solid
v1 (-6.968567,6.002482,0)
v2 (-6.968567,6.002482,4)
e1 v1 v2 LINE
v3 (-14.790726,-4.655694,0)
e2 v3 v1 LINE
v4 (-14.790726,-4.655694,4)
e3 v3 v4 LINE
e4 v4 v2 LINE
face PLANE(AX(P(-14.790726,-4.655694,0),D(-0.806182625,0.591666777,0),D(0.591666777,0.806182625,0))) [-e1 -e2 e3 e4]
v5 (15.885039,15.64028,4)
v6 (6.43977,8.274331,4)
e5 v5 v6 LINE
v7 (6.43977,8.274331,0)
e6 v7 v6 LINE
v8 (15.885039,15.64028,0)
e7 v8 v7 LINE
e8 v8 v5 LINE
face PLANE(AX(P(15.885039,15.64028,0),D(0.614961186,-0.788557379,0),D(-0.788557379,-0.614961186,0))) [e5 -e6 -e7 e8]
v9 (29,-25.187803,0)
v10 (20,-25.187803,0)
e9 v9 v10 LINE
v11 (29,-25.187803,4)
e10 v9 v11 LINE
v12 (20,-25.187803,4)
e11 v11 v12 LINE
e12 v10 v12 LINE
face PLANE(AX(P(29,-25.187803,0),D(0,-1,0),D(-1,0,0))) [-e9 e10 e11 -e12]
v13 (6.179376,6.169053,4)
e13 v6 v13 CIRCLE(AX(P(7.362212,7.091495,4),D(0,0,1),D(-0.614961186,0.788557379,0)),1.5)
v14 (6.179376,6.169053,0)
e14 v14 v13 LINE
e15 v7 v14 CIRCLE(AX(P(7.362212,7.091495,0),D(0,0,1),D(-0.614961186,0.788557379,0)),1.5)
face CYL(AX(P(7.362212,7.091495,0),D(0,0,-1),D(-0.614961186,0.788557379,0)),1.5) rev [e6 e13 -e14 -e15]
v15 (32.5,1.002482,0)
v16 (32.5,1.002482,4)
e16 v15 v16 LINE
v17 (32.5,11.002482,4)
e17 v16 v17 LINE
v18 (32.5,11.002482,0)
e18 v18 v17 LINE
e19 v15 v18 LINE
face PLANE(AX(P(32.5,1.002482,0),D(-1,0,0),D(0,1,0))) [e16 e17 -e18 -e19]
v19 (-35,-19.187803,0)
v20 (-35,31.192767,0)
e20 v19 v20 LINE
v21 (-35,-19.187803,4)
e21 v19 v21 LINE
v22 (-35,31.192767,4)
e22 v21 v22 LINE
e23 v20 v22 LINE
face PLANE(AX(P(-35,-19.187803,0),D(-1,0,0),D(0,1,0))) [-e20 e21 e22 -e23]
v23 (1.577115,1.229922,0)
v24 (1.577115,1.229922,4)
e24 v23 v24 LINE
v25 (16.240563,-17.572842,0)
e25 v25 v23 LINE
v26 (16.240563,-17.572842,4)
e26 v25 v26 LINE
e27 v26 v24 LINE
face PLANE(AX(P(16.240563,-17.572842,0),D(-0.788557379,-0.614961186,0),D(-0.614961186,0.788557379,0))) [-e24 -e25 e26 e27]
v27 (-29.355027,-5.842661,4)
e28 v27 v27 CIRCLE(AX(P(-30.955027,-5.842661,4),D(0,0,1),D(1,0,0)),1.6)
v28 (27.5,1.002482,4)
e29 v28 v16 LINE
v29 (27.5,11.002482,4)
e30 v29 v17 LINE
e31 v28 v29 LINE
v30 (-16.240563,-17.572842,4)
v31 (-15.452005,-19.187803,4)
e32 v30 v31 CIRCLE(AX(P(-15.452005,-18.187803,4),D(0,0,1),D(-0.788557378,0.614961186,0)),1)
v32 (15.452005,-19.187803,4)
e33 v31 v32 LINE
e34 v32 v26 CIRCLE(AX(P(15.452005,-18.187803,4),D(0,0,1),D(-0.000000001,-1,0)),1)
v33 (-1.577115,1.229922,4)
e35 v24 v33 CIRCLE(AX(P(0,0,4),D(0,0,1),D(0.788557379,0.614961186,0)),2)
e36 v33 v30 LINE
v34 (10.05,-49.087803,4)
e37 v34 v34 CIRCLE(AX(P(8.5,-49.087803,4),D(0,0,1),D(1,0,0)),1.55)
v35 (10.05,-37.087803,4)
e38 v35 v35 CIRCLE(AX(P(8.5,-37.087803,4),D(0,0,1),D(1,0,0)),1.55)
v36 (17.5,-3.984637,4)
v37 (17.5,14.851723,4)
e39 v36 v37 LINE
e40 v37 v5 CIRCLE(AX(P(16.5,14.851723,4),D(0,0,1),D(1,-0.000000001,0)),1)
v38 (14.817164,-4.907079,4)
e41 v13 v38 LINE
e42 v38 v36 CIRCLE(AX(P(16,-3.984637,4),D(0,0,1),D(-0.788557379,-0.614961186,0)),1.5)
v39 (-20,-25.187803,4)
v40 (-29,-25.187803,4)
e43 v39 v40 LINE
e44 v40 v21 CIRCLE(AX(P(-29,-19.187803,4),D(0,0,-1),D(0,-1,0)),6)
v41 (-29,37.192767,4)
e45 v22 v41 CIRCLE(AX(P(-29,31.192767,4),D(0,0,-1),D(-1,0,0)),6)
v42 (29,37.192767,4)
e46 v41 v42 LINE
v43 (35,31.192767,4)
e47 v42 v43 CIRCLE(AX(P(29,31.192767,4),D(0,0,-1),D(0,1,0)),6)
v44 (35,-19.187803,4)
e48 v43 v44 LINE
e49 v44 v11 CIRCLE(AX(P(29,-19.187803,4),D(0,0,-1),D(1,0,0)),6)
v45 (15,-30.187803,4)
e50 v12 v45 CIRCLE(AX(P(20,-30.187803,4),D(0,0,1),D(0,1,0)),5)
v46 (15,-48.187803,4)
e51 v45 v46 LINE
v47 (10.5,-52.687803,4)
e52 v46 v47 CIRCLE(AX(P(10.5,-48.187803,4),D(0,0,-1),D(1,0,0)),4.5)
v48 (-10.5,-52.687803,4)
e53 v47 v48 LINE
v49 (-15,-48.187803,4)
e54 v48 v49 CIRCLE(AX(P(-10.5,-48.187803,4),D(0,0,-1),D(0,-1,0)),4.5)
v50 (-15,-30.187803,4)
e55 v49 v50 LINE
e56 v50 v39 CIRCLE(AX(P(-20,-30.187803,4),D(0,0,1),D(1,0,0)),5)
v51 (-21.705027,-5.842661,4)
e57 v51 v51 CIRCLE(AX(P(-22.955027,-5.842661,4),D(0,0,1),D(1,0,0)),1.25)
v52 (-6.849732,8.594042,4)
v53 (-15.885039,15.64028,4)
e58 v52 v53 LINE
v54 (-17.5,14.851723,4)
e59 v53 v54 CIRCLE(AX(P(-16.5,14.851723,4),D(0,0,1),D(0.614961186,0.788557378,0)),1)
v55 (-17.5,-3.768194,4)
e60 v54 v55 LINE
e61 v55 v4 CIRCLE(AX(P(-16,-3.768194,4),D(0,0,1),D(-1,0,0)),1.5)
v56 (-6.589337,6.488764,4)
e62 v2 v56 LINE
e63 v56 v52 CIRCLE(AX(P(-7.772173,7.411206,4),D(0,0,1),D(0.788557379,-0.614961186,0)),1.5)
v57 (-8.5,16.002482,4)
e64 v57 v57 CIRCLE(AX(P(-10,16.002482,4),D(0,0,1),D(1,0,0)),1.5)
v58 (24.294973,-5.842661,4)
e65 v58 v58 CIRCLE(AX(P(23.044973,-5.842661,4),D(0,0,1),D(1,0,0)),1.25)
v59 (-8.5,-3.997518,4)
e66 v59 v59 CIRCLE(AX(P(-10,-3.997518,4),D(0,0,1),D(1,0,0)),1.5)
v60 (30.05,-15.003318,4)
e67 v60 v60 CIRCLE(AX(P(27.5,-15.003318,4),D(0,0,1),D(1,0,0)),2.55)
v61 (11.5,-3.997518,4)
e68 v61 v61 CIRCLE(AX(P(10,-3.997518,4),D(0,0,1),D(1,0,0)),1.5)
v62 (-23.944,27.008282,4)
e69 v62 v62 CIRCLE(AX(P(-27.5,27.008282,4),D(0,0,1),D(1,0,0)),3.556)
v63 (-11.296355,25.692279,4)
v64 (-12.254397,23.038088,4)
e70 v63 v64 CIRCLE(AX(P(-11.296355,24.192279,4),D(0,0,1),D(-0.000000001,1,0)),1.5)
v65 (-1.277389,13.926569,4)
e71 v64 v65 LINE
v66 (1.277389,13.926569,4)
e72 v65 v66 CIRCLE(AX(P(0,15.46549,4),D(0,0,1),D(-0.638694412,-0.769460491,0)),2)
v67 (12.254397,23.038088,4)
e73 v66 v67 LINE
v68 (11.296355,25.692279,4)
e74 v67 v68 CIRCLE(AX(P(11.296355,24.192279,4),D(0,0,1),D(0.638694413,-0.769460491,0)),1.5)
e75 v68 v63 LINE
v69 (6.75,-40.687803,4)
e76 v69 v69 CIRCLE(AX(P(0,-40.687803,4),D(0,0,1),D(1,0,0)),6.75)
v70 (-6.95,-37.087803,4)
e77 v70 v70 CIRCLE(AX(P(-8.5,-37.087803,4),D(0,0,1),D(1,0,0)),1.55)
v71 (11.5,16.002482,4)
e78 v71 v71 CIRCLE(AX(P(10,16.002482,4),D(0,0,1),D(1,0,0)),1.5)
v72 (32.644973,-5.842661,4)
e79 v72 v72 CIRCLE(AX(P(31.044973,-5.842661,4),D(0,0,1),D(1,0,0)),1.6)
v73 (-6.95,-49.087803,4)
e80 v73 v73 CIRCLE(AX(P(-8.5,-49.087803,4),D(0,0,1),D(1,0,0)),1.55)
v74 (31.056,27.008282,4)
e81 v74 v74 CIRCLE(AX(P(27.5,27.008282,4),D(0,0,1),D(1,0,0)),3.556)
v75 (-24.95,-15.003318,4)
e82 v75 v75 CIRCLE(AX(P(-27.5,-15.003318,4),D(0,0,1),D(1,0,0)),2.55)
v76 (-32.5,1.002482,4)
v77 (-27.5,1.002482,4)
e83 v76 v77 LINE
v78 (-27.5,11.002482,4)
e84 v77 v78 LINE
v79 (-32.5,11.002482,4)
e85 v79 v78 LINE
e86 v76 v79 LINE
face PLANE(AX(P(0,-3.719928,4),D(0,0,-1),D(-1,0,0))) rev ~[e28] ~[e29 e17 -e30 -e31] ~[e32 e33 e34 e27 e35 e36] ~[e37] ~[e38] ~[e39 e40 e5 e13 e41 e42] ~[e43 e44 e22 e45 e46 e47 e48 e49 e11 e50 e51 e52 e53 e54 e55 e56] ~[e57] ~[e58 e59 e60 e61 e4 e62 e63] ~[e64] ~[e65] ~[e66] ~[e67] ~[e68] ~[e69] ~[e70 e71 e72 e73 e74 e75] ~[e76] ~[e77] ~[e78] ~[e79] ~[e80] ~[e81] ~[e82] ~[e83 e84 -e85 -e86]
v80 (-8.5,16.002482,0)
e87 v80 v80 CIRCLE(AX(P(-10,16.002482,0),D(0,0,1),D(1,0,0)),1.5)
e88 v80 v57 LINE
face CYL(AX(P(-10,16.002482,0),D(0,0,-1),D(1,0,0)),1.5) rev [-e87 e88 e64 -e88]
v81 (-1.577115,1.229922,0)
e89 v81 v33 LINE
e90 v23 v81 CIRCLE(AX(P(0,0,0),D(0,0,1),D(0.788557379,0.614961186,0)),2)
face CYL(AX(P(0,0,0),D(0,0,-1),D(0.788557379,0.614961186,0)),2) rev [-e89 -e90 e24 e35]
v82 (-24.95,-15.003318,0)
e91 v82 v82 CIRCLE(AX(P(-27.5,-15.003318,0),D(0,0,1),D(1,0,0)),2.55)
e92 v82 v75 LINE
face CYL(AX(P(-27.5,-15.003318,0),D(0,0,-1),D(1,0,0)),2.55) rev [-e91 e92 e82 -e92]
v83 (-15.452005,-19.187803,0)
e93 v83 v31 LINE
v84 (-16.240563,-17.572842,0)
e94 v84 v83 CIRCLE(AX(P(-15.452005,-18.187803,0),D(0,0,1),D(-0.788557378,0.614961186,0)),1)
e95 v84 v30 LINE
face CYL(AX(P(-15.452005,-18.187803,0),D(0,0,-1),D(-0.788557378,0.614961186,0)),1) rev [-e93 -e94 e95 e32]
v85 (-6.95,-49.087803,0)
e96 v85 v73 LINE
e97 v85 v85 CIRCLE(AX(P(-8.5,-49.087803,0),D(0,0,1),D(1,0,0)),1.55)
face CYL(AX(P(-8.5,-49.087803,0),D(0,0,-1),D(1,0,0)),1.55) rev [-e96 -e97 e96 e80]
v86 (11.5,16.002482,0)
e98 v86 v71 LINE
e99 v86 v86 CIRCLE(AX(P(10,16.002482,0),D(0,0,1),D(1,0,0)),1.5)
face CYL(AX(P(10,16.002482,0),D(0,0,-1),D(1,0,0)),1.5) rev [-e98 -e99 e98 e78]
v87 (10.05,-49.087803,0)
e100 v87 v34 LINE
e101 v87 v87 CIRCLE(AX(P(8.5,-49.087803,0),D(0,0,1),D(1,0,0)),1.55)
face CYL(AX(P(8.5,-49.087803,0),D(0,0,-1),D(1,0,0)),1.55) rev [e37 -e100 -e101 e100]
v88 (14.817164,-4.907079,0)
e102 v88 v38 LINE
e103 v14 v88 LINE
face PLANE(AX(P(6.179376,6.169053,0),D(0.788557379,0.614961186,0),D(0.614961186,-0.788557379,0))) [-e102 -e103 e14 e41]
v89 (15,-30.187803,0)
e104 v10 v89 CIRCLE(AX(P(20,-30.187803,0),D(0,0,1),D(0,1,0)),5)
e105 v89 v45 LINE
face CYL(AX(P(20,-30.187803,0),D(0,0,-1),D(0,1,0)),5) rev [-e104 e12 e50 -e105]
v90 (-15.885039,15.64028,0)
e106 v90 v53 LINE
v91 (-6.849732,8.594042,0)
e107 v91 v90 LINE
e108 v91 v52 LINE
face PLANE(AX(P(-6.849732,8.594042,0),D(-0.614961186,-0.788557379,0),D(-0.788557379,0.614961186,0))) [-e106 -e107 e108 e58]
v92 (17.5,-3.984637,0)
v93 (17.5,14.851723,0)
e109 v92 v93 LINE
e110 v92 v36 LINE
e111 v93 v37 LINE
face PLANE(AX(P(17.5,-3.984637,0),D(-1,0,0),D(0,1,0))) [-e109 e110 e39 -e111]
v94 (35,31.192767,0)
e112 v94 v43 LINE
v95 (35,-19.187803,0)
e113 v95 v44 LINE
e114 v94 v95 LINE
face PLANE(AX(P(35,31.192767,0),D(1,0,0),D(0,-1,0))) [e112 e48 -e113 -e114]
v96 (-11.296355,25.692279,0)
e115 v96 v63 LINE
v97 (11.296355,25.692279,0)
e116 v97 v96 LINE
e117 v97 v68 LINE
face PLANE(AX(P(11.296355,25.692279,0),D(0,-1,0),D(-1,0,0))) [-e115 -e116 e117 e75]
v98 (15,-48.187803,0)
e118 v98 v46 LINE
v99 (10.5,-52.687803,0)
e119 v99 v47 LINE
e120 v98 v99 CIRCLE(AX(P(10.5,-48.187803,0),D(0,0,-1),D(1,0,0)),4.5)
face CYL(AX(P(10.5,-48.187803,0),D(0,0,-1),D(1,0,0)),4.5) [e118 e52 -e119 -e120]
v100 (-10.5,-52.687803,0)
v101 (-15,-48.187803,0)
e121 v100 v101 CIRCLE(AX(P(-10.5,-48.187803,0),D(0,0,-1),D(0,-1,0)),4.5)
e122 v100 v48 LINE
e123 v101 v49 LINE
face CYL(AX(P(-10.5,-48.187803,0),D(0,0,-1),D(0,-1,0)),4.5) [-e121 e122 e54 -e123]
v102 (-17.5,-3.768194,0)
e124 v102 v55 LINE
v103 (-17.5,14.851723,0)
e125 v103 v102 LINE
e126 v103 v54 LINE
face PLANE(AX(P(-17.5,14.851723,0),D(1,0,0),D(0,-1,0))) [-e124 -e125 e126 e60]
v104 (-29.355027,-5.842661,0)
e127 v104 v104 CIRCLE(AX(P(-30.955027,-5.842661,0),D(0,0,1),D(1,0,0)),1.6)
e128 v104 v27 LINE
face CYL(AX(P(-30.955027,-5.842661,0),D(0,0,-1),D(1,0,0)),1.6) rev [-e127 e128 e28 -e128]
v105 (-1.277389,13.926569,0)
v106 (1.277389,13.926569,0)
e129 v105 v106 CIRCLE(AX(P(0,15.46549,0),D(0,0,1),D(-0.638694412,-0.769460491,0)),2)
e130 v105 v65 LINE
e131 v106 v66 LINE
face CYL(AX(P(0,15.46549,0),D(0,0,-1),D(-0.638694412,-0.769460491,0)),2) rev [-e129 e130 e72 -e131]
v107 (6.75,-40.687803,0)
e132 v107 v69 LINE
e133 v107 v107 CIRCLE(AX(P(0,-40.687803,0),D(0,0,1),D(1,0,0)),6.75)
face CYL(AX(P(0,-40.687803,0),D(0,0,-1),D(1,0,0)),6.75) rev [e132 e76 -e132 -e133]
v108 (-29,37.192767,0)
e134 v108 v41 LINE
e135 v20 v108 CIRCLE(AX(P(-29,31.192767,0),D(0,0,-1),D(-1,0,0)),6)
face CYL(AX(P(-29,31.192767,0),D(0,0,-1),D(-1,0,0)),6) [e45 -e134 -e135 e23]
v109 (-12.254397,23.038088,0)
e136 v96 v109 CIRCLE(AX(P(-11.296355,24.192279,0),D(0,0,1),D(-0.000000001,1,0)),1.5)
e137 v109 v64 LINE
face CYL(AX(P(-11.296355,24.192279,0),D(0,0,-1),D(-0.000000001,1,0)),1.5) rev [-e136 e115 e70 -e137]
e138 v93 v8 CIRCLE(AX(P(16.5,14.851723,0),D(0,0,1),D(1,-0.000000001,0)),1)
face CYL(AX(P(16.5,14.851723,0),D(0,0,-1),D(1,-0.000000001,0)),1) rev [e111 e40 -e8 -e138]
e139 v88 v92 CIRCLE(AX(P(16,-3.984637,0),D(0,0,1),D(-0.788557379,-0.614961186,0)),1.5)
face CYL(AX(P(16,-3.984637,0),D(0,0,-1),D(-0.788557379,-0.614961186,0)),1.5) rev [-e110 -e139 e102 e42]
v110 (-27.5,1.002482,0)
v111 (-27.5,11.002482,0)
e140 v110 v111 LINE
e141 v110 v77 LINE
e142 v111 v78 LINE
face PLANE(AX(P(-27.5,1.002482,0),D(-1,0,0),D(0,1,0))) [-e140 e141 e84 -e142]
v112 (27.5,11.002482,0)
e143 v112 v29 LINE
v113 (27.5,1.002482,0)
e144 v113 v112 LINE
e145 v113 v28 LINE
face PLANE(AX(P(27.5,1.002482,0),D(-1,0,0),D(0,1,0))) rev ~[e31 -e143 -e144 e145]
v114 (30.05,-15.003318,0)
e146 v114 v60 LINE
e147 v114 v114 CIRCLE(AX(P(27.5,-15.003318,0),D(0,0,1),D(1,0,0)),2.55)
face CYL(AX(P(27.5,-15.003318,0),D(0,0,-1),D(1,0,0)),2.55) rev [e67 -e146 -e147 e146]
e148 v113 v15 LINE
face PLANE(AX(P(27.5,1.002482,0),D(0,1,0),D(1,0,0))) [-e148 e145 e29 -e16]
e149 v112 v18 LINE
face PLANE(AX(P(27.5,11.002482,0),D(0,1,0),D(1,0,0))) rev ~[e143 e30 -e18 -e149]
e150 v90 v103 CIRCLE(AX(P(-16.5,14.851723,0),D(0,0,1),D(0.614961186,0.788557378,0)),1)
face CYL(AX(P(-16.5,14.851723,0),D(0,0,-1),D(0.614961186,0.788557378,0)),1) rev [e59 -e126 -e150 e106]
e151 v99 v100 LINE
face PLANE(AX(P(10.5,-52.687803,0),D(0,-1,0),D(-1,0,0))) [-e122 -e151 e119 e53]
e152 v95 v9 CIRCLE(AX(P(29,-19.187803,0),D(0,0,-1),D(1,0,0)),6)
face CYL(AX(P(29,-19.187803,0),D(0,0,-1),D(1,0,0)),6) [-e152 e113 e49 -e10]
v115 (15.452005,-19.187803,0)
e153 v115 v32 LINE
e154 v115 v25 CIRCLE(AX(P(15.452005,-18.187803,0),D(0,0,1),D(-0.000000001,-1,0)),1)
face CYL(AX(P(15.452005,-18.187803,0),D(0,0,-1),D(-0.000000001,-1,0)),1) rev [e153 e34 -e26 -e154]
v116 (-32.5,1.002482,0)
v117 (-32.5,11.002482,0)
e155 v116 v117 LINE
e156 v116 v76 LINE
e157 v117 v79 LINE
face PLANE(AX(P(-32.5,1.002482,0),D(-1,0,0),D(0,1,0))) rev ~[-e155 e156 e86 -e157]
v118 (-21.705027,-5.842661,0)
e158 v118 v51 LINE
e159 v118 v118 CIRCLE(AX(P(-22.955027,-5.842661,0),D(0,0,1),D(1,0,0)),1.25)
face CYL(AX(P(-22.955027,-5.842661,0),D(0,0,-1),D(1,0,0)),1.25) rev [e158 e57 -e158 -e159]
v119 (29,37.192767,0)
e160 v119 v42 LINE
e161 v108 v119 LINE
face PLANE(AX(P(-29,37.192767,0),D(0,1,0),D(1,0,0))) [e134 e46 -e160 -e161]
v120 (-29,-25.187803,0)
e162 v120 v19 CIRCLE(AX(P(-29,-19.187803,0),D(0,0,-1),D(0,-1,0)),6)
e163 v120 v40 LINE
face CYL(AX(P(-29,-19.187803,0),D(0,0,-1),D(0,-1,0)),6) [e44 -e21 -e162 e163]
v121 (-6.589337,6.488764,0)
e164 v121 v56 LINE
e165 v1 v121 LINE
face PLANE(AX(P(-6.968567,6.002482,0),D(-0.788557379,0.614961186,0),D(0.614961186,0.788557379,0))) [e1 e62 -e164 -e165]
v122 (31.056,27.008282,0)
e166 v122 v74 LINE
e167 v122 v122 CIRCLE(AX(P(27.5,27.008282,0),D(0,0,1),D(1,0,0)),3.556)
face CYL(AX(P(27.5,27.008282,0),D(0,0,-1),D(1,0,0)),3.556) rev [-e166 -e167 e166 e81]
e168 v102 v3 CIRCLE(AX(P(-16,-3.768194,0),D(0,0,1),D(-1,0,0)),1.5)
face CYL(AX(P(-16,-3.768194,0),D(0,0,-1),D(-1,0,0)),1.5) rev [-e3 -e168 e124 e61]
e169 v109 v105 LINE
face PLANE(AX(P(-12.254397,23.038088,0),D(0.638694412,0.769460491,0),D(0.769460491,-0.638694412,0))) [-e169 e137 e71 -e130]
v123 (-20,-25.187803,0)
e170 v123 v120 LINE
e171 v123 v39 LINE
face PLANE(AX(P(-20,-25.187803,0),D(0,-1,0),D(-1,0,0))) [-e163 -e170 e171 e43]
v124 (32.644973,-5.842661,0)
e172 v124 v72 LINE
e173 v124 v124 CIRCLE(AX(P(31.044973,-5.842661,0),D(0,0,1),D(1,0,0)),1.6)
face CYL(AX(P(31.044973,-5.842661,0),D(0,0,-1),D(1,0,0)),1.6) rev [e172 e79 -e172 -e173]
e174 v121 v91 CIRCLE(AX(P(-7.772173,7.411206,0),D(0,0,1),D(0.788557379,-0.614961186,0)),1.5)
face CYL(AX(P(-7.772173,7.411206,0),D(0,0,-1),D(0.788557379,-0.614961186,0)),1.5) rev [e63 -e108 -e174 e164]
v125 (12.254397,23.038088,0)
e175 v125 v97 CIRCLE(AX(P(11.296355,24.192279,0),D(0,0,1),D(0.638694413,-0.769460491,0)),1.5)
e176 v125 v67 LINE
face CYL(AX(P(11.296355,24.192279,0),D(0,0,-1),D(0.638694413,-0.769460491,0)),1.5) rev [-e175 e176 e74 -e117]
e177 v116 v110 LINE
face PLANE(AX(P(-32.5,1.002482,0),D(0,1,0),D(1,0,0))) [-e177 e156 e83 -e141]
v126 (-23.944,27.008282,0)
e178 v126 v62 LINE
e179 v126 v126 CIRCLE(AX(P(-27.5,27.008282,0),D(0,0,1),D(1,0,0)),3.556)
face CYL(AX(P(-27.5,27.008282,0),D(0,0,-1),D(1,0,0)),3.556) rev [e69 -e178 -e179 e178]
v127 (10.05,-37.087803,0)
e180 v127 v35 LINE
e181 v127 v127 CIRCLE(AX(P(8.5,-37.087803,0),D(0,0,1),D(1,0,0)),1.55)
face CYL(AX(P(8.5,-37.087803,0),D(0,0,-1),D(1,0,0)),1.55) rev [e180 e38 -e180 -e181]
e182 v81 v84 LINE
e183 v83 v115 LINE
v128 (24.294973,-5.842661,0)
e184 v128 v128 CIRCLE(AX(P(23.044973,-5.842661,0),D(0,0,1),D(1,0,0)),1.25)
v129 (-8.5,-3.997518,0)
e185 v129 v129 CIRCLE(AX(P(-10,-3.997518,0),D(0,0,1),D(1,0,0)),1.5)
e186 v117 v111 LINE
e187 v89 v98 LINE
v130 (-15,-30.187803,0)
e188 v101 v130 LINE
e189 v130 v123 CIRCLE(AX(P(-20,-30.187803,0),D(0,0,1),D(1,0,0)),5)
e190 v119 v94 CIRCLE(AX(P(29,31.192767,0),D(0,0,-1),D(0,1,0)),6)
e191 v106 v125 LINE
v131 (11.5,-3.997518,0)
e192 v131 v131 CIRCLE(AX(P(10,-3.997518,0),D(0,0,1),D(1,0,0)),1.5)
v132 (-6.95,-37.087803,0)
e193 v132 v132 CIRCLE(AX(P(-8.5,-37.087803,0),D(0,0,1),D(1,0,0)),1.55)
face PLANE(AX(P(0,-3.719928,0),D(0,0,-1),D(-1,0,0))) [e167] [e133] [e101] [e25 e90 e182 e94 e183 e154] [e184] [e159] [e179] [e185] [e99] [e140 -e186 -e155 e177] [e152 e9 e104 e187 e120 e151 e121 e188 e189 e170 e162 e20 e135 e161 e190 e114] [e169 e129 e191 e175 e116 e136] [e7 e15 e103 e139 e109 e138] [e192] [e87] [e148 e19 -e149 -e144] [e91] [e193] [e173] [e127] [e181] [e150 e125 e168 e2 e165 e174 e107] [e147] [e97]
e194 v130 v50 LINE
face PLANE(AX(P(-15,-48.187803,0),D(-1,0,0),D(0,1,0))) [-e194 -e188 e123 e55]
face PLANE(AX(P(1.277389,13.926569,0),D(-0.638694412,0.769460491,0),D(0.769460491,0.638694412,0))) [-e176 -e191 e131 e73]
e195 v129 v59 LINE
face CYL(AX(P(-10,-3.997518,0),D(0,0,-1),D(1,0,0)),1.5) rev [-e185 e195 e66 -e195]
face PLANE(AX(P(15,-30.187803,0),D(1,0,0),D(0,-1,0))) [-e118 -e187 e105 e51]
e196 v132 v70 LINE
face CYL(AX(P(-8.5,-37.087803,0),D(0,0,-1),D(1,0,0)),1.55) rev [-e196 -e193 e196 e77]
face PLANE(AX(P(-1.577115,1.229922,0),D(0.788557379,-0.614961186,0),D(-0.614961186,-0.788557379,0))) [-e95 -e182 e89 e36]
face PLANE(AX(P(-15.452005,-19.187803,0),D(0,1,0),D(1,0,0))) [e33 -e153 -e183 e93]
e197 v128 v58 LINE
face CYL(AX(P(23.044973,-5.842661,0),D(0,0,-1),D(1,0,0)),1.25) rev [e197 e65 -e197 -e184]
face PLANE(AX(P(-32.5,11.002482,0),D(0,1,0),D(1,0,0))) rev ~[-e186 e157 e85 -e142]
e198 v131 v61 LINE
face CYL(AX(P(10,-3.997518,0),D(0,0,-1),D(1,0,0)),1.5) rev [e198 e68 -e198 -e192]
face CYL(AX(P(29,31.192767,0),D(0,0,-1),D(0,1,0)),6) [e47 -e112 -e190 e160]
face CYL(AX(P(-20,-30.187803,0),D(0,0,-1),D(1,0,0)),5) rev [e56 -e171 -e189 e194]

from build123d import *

# Parameters (mm, degrees)
MODEL_R         = 1.25
MODEL_R_2       = 1.6
MODEL_R_3       = 2.55
MODEL_R_4       = 3.556
MODEL_R_5       = 1.5
MODEL_R_6       = 1.55
MODEL_R_7       = 6.75
MODEL_W         = 5
MODEL_H         = 10
EXTRUDE_1_DEPTH = 4


with BuildPart() as part:
    # Model → Бобышка-Вытянуть1 (new body)
    with BuildSketch(Plane.XY):
        with BuildLine():
            Line((-29, 37.192766725), (29, 37.192766725))
            ThreePointArc((29, 37.192766725), (33.242640687, 35.435407412), (35, 31.192766725))
            Line((35, 31.192766725), (35, -19.187803059))
            ThreePointArc((35, -19.187803059), (33.242640687, -23.430443746), (29, -25.187803059))
            Line((29, -25.187803059), (20, -25.187803059))
            ThreePointArc((20, -25.187803059), (16.464466094, -26.652269153), (15, -30.187803059))
            Line((15, -30.187803059), (15, -48.187803059))
            ThreePointArc((15, -48.187803059), (13.681980515, -51.369783574), (10.5, -52.687803059))
            Line((10.5, -52.687803059), (-10.5, -52.687803059))
            ThreePointArc((-10.5, -52.687803059), (-13.681980515, -51.369783574), (-15, -48.187803059))
            Line((-15, -48.187803059), (-15, -30.187803059))
            ThreePointArc((-15, -30.187803059), (-16.464466094, -26.652269153), (-20, -25.187803059))
            Line((-20, -25.187803059), (-29, -25.187803059))
            ThreePointArc((-29, -25.187803059), (-33.242640687, -23.430443746), (-35, -19.187803059))
            Line((-35, -19.187803059), (-35, 31.192766725))
            ThreePointArc((-35, 31.192766725), (-33.242640687, 35.435407412), (-29, 37.192766725))
        make_face()
        with Locations((-22.95502674, -5.842660613)):
            Circle(MODEL_R, mode=Mode.SUBTRACT)
        with Locations((23.04497326, -5.842660613)):
            Circle(MODEL_R, mode=Mode.SUBTRACT)
        with Locations((-30.95502674, -5.842660613)):
            Circle(MODEL_R_2, mode=Mode.SUBTRACT)
        with Locations((31.04497326, -5.842660613)):
            Circle(MODEL_R_2, mode=Mode.SUBTRACT)
        with Locations((-27.5, -15.003318167)):
            Circle(MODEL_R_3, mode=Mode.SUBTRACT)
        with Locations((27.5, 27.008281833)):
            Circle(MODEL_R_4, mode=Mode.SUBTRACT)
        with Locations((-27.5, 27.008281833)):
            Circle(MODEL_R_4, mode=Mode.SUBTRACT)
        with Locations((27.5, -15.003318167)):
            Circle(MODEL_R_3, mode=Mode.SUBTRACT)
        with Locations((-10, -3.997518167)):
            Circle(MODEL_R_5, mode=Mode.SUBTRACT)
        with Locations((10, -3.997518167)):
            Circle(MODEL_R_5, mode=Mode.SUBTRACT)
        with Locations((-10, 16.002481833)):
            Circle(MODEL_R_5, mode=Mode.SUBTRACT)
        with Locations((10, 16.002481833)):
            Circle(MODEL_R_5, mode=Mode.SUBTRACT)
        with Locations((-8.5, -37.087803059)):
            Circle(MODEL_R_6, mode=Mode.SUBTRACT)
        with Locations((8.5, -37.087803059)):
            Circle(MODEL_R_6, mode=Mode.SUBTRACT)
        with Locations((-8.5, -49.087803059)):
            Circle(MODEL_R_6, mode=Mode.SUBTRACT)
        with Locations((0, -40.687803059)):
            Circle(MODEL_R_7, mode=Mode.SUBTRACT)
        with Locations((8.5, -49.087803059)):
            Circle(MODEL_R_6, mode=Mode.SUBTRACT)
        with Locations((-30, 6.002481833)):
            Rectangle(MODEL_W, MODEL_H, mode=Mode.SUBTRACT)
        with Locations((30, 6.002481833)):
            Rectangle(MODEL_W, MODEL_H, mode=Mode.SUBTRACT)
        with BuildLine():
            Line((-15.452005485, -19.187803059), (15.452005485, -19.187803059))
            ThreePointArc((15.452005485, -19.187803059), (16.350604725, -18.626573394), (16.240562864, -17.572841873))
            Line((16.240562864, -17.572841873), (1.577114757, 1.229922372))
            ThreePointArc((1.577114757, 1.229922372), (0, 2), (-1.577114757, 1.229922372))
            Line((-1.577114757, 1.229922372), (-16.240562864, -17.572841873))
            ThreePointArc((-16.240562864, -17.572841873), (-16.350604725, -18.626573394), (-15.452005485, -19.187803059))
        make_face(mode=Mode.SUBTRACT)
        with BuildLine():
            Line((6.179376111, 6.169053374), (14.817163932, -4.907078707))
            ThreePointArc((14.817163932, -4.907078707), (16.487722205, -5.403131571), (17.5, -3.984636928))
            Line((17.5, -3.984636928), (17.5, 14.851722882))
            ThreePointArc((17.5, 14.851722882), (16.938770335, 15.750322122), (15.885038814, 15.640280261))
            Line((15.885038814, 15.640280261), (6.4397704, 8.274331221))
            ThreePointArc((6.4397704, 8.274331221), (5.873555937, 7.275621721), (6.179376111, 6.169053374))
        make_face(mode=Mode.SUBTRACT)
        with BuildLine():
            Line((-17.5, 14.851722882), (-17.5, -3.768193645))
            ThreePointArc((-17.5, -3.768193645), (-16.466952403, -5.193660394), (-14.790726063, -4.655693811))
            Line((-14.790726063, -4.655693811), (-6.96856736, 6.002481833))
            Line((-6.96856736, 6.002481833), (-6.589337275, 6.488764039))
            ThreePointArc((-6.589337275, 6.488764039), (-6.283517101, 7.595332385), (-6.849731564, 8.594041886))
            Line((-6.849731564, 8.594041886), (-15.885038814, 15.640280261))
            ThreePointArc((-15.885038814, 15.640280261), (-16.938770335, 15.750322122), (-17.5, 14.851722882))
        make_face(mode=Mode.SUBTRACT)
        with BuildLine():
            Line((11.296355011, 25.692278611), (-11.296355011, 25.692278611))
            ThreePointArc((-11.296355011, 25.692278611), (-12.707256514, 24.701549606), (-12.254396629, 23.038087873))
            Line((-12.254396629, 23.038087873), (-1.277388824, 13.926569315))
            ThreePointArc((-1.277388824, 13.926569315), (0, 13.465490298), (1.277388824, 13.926569315))
            Line((1.277388824, 13.926569315), (12.254396629, 23.038087873))
            ThreePointArc((12.254396629, 23.038087873), (12.707256514, 24.701549606), (11.296355011, 25.692278611))
        make_face(mode=Mode.SUBTRACT)
    extrude(amount=EXTRUDE_1_DEPTH)


solid = part.part
